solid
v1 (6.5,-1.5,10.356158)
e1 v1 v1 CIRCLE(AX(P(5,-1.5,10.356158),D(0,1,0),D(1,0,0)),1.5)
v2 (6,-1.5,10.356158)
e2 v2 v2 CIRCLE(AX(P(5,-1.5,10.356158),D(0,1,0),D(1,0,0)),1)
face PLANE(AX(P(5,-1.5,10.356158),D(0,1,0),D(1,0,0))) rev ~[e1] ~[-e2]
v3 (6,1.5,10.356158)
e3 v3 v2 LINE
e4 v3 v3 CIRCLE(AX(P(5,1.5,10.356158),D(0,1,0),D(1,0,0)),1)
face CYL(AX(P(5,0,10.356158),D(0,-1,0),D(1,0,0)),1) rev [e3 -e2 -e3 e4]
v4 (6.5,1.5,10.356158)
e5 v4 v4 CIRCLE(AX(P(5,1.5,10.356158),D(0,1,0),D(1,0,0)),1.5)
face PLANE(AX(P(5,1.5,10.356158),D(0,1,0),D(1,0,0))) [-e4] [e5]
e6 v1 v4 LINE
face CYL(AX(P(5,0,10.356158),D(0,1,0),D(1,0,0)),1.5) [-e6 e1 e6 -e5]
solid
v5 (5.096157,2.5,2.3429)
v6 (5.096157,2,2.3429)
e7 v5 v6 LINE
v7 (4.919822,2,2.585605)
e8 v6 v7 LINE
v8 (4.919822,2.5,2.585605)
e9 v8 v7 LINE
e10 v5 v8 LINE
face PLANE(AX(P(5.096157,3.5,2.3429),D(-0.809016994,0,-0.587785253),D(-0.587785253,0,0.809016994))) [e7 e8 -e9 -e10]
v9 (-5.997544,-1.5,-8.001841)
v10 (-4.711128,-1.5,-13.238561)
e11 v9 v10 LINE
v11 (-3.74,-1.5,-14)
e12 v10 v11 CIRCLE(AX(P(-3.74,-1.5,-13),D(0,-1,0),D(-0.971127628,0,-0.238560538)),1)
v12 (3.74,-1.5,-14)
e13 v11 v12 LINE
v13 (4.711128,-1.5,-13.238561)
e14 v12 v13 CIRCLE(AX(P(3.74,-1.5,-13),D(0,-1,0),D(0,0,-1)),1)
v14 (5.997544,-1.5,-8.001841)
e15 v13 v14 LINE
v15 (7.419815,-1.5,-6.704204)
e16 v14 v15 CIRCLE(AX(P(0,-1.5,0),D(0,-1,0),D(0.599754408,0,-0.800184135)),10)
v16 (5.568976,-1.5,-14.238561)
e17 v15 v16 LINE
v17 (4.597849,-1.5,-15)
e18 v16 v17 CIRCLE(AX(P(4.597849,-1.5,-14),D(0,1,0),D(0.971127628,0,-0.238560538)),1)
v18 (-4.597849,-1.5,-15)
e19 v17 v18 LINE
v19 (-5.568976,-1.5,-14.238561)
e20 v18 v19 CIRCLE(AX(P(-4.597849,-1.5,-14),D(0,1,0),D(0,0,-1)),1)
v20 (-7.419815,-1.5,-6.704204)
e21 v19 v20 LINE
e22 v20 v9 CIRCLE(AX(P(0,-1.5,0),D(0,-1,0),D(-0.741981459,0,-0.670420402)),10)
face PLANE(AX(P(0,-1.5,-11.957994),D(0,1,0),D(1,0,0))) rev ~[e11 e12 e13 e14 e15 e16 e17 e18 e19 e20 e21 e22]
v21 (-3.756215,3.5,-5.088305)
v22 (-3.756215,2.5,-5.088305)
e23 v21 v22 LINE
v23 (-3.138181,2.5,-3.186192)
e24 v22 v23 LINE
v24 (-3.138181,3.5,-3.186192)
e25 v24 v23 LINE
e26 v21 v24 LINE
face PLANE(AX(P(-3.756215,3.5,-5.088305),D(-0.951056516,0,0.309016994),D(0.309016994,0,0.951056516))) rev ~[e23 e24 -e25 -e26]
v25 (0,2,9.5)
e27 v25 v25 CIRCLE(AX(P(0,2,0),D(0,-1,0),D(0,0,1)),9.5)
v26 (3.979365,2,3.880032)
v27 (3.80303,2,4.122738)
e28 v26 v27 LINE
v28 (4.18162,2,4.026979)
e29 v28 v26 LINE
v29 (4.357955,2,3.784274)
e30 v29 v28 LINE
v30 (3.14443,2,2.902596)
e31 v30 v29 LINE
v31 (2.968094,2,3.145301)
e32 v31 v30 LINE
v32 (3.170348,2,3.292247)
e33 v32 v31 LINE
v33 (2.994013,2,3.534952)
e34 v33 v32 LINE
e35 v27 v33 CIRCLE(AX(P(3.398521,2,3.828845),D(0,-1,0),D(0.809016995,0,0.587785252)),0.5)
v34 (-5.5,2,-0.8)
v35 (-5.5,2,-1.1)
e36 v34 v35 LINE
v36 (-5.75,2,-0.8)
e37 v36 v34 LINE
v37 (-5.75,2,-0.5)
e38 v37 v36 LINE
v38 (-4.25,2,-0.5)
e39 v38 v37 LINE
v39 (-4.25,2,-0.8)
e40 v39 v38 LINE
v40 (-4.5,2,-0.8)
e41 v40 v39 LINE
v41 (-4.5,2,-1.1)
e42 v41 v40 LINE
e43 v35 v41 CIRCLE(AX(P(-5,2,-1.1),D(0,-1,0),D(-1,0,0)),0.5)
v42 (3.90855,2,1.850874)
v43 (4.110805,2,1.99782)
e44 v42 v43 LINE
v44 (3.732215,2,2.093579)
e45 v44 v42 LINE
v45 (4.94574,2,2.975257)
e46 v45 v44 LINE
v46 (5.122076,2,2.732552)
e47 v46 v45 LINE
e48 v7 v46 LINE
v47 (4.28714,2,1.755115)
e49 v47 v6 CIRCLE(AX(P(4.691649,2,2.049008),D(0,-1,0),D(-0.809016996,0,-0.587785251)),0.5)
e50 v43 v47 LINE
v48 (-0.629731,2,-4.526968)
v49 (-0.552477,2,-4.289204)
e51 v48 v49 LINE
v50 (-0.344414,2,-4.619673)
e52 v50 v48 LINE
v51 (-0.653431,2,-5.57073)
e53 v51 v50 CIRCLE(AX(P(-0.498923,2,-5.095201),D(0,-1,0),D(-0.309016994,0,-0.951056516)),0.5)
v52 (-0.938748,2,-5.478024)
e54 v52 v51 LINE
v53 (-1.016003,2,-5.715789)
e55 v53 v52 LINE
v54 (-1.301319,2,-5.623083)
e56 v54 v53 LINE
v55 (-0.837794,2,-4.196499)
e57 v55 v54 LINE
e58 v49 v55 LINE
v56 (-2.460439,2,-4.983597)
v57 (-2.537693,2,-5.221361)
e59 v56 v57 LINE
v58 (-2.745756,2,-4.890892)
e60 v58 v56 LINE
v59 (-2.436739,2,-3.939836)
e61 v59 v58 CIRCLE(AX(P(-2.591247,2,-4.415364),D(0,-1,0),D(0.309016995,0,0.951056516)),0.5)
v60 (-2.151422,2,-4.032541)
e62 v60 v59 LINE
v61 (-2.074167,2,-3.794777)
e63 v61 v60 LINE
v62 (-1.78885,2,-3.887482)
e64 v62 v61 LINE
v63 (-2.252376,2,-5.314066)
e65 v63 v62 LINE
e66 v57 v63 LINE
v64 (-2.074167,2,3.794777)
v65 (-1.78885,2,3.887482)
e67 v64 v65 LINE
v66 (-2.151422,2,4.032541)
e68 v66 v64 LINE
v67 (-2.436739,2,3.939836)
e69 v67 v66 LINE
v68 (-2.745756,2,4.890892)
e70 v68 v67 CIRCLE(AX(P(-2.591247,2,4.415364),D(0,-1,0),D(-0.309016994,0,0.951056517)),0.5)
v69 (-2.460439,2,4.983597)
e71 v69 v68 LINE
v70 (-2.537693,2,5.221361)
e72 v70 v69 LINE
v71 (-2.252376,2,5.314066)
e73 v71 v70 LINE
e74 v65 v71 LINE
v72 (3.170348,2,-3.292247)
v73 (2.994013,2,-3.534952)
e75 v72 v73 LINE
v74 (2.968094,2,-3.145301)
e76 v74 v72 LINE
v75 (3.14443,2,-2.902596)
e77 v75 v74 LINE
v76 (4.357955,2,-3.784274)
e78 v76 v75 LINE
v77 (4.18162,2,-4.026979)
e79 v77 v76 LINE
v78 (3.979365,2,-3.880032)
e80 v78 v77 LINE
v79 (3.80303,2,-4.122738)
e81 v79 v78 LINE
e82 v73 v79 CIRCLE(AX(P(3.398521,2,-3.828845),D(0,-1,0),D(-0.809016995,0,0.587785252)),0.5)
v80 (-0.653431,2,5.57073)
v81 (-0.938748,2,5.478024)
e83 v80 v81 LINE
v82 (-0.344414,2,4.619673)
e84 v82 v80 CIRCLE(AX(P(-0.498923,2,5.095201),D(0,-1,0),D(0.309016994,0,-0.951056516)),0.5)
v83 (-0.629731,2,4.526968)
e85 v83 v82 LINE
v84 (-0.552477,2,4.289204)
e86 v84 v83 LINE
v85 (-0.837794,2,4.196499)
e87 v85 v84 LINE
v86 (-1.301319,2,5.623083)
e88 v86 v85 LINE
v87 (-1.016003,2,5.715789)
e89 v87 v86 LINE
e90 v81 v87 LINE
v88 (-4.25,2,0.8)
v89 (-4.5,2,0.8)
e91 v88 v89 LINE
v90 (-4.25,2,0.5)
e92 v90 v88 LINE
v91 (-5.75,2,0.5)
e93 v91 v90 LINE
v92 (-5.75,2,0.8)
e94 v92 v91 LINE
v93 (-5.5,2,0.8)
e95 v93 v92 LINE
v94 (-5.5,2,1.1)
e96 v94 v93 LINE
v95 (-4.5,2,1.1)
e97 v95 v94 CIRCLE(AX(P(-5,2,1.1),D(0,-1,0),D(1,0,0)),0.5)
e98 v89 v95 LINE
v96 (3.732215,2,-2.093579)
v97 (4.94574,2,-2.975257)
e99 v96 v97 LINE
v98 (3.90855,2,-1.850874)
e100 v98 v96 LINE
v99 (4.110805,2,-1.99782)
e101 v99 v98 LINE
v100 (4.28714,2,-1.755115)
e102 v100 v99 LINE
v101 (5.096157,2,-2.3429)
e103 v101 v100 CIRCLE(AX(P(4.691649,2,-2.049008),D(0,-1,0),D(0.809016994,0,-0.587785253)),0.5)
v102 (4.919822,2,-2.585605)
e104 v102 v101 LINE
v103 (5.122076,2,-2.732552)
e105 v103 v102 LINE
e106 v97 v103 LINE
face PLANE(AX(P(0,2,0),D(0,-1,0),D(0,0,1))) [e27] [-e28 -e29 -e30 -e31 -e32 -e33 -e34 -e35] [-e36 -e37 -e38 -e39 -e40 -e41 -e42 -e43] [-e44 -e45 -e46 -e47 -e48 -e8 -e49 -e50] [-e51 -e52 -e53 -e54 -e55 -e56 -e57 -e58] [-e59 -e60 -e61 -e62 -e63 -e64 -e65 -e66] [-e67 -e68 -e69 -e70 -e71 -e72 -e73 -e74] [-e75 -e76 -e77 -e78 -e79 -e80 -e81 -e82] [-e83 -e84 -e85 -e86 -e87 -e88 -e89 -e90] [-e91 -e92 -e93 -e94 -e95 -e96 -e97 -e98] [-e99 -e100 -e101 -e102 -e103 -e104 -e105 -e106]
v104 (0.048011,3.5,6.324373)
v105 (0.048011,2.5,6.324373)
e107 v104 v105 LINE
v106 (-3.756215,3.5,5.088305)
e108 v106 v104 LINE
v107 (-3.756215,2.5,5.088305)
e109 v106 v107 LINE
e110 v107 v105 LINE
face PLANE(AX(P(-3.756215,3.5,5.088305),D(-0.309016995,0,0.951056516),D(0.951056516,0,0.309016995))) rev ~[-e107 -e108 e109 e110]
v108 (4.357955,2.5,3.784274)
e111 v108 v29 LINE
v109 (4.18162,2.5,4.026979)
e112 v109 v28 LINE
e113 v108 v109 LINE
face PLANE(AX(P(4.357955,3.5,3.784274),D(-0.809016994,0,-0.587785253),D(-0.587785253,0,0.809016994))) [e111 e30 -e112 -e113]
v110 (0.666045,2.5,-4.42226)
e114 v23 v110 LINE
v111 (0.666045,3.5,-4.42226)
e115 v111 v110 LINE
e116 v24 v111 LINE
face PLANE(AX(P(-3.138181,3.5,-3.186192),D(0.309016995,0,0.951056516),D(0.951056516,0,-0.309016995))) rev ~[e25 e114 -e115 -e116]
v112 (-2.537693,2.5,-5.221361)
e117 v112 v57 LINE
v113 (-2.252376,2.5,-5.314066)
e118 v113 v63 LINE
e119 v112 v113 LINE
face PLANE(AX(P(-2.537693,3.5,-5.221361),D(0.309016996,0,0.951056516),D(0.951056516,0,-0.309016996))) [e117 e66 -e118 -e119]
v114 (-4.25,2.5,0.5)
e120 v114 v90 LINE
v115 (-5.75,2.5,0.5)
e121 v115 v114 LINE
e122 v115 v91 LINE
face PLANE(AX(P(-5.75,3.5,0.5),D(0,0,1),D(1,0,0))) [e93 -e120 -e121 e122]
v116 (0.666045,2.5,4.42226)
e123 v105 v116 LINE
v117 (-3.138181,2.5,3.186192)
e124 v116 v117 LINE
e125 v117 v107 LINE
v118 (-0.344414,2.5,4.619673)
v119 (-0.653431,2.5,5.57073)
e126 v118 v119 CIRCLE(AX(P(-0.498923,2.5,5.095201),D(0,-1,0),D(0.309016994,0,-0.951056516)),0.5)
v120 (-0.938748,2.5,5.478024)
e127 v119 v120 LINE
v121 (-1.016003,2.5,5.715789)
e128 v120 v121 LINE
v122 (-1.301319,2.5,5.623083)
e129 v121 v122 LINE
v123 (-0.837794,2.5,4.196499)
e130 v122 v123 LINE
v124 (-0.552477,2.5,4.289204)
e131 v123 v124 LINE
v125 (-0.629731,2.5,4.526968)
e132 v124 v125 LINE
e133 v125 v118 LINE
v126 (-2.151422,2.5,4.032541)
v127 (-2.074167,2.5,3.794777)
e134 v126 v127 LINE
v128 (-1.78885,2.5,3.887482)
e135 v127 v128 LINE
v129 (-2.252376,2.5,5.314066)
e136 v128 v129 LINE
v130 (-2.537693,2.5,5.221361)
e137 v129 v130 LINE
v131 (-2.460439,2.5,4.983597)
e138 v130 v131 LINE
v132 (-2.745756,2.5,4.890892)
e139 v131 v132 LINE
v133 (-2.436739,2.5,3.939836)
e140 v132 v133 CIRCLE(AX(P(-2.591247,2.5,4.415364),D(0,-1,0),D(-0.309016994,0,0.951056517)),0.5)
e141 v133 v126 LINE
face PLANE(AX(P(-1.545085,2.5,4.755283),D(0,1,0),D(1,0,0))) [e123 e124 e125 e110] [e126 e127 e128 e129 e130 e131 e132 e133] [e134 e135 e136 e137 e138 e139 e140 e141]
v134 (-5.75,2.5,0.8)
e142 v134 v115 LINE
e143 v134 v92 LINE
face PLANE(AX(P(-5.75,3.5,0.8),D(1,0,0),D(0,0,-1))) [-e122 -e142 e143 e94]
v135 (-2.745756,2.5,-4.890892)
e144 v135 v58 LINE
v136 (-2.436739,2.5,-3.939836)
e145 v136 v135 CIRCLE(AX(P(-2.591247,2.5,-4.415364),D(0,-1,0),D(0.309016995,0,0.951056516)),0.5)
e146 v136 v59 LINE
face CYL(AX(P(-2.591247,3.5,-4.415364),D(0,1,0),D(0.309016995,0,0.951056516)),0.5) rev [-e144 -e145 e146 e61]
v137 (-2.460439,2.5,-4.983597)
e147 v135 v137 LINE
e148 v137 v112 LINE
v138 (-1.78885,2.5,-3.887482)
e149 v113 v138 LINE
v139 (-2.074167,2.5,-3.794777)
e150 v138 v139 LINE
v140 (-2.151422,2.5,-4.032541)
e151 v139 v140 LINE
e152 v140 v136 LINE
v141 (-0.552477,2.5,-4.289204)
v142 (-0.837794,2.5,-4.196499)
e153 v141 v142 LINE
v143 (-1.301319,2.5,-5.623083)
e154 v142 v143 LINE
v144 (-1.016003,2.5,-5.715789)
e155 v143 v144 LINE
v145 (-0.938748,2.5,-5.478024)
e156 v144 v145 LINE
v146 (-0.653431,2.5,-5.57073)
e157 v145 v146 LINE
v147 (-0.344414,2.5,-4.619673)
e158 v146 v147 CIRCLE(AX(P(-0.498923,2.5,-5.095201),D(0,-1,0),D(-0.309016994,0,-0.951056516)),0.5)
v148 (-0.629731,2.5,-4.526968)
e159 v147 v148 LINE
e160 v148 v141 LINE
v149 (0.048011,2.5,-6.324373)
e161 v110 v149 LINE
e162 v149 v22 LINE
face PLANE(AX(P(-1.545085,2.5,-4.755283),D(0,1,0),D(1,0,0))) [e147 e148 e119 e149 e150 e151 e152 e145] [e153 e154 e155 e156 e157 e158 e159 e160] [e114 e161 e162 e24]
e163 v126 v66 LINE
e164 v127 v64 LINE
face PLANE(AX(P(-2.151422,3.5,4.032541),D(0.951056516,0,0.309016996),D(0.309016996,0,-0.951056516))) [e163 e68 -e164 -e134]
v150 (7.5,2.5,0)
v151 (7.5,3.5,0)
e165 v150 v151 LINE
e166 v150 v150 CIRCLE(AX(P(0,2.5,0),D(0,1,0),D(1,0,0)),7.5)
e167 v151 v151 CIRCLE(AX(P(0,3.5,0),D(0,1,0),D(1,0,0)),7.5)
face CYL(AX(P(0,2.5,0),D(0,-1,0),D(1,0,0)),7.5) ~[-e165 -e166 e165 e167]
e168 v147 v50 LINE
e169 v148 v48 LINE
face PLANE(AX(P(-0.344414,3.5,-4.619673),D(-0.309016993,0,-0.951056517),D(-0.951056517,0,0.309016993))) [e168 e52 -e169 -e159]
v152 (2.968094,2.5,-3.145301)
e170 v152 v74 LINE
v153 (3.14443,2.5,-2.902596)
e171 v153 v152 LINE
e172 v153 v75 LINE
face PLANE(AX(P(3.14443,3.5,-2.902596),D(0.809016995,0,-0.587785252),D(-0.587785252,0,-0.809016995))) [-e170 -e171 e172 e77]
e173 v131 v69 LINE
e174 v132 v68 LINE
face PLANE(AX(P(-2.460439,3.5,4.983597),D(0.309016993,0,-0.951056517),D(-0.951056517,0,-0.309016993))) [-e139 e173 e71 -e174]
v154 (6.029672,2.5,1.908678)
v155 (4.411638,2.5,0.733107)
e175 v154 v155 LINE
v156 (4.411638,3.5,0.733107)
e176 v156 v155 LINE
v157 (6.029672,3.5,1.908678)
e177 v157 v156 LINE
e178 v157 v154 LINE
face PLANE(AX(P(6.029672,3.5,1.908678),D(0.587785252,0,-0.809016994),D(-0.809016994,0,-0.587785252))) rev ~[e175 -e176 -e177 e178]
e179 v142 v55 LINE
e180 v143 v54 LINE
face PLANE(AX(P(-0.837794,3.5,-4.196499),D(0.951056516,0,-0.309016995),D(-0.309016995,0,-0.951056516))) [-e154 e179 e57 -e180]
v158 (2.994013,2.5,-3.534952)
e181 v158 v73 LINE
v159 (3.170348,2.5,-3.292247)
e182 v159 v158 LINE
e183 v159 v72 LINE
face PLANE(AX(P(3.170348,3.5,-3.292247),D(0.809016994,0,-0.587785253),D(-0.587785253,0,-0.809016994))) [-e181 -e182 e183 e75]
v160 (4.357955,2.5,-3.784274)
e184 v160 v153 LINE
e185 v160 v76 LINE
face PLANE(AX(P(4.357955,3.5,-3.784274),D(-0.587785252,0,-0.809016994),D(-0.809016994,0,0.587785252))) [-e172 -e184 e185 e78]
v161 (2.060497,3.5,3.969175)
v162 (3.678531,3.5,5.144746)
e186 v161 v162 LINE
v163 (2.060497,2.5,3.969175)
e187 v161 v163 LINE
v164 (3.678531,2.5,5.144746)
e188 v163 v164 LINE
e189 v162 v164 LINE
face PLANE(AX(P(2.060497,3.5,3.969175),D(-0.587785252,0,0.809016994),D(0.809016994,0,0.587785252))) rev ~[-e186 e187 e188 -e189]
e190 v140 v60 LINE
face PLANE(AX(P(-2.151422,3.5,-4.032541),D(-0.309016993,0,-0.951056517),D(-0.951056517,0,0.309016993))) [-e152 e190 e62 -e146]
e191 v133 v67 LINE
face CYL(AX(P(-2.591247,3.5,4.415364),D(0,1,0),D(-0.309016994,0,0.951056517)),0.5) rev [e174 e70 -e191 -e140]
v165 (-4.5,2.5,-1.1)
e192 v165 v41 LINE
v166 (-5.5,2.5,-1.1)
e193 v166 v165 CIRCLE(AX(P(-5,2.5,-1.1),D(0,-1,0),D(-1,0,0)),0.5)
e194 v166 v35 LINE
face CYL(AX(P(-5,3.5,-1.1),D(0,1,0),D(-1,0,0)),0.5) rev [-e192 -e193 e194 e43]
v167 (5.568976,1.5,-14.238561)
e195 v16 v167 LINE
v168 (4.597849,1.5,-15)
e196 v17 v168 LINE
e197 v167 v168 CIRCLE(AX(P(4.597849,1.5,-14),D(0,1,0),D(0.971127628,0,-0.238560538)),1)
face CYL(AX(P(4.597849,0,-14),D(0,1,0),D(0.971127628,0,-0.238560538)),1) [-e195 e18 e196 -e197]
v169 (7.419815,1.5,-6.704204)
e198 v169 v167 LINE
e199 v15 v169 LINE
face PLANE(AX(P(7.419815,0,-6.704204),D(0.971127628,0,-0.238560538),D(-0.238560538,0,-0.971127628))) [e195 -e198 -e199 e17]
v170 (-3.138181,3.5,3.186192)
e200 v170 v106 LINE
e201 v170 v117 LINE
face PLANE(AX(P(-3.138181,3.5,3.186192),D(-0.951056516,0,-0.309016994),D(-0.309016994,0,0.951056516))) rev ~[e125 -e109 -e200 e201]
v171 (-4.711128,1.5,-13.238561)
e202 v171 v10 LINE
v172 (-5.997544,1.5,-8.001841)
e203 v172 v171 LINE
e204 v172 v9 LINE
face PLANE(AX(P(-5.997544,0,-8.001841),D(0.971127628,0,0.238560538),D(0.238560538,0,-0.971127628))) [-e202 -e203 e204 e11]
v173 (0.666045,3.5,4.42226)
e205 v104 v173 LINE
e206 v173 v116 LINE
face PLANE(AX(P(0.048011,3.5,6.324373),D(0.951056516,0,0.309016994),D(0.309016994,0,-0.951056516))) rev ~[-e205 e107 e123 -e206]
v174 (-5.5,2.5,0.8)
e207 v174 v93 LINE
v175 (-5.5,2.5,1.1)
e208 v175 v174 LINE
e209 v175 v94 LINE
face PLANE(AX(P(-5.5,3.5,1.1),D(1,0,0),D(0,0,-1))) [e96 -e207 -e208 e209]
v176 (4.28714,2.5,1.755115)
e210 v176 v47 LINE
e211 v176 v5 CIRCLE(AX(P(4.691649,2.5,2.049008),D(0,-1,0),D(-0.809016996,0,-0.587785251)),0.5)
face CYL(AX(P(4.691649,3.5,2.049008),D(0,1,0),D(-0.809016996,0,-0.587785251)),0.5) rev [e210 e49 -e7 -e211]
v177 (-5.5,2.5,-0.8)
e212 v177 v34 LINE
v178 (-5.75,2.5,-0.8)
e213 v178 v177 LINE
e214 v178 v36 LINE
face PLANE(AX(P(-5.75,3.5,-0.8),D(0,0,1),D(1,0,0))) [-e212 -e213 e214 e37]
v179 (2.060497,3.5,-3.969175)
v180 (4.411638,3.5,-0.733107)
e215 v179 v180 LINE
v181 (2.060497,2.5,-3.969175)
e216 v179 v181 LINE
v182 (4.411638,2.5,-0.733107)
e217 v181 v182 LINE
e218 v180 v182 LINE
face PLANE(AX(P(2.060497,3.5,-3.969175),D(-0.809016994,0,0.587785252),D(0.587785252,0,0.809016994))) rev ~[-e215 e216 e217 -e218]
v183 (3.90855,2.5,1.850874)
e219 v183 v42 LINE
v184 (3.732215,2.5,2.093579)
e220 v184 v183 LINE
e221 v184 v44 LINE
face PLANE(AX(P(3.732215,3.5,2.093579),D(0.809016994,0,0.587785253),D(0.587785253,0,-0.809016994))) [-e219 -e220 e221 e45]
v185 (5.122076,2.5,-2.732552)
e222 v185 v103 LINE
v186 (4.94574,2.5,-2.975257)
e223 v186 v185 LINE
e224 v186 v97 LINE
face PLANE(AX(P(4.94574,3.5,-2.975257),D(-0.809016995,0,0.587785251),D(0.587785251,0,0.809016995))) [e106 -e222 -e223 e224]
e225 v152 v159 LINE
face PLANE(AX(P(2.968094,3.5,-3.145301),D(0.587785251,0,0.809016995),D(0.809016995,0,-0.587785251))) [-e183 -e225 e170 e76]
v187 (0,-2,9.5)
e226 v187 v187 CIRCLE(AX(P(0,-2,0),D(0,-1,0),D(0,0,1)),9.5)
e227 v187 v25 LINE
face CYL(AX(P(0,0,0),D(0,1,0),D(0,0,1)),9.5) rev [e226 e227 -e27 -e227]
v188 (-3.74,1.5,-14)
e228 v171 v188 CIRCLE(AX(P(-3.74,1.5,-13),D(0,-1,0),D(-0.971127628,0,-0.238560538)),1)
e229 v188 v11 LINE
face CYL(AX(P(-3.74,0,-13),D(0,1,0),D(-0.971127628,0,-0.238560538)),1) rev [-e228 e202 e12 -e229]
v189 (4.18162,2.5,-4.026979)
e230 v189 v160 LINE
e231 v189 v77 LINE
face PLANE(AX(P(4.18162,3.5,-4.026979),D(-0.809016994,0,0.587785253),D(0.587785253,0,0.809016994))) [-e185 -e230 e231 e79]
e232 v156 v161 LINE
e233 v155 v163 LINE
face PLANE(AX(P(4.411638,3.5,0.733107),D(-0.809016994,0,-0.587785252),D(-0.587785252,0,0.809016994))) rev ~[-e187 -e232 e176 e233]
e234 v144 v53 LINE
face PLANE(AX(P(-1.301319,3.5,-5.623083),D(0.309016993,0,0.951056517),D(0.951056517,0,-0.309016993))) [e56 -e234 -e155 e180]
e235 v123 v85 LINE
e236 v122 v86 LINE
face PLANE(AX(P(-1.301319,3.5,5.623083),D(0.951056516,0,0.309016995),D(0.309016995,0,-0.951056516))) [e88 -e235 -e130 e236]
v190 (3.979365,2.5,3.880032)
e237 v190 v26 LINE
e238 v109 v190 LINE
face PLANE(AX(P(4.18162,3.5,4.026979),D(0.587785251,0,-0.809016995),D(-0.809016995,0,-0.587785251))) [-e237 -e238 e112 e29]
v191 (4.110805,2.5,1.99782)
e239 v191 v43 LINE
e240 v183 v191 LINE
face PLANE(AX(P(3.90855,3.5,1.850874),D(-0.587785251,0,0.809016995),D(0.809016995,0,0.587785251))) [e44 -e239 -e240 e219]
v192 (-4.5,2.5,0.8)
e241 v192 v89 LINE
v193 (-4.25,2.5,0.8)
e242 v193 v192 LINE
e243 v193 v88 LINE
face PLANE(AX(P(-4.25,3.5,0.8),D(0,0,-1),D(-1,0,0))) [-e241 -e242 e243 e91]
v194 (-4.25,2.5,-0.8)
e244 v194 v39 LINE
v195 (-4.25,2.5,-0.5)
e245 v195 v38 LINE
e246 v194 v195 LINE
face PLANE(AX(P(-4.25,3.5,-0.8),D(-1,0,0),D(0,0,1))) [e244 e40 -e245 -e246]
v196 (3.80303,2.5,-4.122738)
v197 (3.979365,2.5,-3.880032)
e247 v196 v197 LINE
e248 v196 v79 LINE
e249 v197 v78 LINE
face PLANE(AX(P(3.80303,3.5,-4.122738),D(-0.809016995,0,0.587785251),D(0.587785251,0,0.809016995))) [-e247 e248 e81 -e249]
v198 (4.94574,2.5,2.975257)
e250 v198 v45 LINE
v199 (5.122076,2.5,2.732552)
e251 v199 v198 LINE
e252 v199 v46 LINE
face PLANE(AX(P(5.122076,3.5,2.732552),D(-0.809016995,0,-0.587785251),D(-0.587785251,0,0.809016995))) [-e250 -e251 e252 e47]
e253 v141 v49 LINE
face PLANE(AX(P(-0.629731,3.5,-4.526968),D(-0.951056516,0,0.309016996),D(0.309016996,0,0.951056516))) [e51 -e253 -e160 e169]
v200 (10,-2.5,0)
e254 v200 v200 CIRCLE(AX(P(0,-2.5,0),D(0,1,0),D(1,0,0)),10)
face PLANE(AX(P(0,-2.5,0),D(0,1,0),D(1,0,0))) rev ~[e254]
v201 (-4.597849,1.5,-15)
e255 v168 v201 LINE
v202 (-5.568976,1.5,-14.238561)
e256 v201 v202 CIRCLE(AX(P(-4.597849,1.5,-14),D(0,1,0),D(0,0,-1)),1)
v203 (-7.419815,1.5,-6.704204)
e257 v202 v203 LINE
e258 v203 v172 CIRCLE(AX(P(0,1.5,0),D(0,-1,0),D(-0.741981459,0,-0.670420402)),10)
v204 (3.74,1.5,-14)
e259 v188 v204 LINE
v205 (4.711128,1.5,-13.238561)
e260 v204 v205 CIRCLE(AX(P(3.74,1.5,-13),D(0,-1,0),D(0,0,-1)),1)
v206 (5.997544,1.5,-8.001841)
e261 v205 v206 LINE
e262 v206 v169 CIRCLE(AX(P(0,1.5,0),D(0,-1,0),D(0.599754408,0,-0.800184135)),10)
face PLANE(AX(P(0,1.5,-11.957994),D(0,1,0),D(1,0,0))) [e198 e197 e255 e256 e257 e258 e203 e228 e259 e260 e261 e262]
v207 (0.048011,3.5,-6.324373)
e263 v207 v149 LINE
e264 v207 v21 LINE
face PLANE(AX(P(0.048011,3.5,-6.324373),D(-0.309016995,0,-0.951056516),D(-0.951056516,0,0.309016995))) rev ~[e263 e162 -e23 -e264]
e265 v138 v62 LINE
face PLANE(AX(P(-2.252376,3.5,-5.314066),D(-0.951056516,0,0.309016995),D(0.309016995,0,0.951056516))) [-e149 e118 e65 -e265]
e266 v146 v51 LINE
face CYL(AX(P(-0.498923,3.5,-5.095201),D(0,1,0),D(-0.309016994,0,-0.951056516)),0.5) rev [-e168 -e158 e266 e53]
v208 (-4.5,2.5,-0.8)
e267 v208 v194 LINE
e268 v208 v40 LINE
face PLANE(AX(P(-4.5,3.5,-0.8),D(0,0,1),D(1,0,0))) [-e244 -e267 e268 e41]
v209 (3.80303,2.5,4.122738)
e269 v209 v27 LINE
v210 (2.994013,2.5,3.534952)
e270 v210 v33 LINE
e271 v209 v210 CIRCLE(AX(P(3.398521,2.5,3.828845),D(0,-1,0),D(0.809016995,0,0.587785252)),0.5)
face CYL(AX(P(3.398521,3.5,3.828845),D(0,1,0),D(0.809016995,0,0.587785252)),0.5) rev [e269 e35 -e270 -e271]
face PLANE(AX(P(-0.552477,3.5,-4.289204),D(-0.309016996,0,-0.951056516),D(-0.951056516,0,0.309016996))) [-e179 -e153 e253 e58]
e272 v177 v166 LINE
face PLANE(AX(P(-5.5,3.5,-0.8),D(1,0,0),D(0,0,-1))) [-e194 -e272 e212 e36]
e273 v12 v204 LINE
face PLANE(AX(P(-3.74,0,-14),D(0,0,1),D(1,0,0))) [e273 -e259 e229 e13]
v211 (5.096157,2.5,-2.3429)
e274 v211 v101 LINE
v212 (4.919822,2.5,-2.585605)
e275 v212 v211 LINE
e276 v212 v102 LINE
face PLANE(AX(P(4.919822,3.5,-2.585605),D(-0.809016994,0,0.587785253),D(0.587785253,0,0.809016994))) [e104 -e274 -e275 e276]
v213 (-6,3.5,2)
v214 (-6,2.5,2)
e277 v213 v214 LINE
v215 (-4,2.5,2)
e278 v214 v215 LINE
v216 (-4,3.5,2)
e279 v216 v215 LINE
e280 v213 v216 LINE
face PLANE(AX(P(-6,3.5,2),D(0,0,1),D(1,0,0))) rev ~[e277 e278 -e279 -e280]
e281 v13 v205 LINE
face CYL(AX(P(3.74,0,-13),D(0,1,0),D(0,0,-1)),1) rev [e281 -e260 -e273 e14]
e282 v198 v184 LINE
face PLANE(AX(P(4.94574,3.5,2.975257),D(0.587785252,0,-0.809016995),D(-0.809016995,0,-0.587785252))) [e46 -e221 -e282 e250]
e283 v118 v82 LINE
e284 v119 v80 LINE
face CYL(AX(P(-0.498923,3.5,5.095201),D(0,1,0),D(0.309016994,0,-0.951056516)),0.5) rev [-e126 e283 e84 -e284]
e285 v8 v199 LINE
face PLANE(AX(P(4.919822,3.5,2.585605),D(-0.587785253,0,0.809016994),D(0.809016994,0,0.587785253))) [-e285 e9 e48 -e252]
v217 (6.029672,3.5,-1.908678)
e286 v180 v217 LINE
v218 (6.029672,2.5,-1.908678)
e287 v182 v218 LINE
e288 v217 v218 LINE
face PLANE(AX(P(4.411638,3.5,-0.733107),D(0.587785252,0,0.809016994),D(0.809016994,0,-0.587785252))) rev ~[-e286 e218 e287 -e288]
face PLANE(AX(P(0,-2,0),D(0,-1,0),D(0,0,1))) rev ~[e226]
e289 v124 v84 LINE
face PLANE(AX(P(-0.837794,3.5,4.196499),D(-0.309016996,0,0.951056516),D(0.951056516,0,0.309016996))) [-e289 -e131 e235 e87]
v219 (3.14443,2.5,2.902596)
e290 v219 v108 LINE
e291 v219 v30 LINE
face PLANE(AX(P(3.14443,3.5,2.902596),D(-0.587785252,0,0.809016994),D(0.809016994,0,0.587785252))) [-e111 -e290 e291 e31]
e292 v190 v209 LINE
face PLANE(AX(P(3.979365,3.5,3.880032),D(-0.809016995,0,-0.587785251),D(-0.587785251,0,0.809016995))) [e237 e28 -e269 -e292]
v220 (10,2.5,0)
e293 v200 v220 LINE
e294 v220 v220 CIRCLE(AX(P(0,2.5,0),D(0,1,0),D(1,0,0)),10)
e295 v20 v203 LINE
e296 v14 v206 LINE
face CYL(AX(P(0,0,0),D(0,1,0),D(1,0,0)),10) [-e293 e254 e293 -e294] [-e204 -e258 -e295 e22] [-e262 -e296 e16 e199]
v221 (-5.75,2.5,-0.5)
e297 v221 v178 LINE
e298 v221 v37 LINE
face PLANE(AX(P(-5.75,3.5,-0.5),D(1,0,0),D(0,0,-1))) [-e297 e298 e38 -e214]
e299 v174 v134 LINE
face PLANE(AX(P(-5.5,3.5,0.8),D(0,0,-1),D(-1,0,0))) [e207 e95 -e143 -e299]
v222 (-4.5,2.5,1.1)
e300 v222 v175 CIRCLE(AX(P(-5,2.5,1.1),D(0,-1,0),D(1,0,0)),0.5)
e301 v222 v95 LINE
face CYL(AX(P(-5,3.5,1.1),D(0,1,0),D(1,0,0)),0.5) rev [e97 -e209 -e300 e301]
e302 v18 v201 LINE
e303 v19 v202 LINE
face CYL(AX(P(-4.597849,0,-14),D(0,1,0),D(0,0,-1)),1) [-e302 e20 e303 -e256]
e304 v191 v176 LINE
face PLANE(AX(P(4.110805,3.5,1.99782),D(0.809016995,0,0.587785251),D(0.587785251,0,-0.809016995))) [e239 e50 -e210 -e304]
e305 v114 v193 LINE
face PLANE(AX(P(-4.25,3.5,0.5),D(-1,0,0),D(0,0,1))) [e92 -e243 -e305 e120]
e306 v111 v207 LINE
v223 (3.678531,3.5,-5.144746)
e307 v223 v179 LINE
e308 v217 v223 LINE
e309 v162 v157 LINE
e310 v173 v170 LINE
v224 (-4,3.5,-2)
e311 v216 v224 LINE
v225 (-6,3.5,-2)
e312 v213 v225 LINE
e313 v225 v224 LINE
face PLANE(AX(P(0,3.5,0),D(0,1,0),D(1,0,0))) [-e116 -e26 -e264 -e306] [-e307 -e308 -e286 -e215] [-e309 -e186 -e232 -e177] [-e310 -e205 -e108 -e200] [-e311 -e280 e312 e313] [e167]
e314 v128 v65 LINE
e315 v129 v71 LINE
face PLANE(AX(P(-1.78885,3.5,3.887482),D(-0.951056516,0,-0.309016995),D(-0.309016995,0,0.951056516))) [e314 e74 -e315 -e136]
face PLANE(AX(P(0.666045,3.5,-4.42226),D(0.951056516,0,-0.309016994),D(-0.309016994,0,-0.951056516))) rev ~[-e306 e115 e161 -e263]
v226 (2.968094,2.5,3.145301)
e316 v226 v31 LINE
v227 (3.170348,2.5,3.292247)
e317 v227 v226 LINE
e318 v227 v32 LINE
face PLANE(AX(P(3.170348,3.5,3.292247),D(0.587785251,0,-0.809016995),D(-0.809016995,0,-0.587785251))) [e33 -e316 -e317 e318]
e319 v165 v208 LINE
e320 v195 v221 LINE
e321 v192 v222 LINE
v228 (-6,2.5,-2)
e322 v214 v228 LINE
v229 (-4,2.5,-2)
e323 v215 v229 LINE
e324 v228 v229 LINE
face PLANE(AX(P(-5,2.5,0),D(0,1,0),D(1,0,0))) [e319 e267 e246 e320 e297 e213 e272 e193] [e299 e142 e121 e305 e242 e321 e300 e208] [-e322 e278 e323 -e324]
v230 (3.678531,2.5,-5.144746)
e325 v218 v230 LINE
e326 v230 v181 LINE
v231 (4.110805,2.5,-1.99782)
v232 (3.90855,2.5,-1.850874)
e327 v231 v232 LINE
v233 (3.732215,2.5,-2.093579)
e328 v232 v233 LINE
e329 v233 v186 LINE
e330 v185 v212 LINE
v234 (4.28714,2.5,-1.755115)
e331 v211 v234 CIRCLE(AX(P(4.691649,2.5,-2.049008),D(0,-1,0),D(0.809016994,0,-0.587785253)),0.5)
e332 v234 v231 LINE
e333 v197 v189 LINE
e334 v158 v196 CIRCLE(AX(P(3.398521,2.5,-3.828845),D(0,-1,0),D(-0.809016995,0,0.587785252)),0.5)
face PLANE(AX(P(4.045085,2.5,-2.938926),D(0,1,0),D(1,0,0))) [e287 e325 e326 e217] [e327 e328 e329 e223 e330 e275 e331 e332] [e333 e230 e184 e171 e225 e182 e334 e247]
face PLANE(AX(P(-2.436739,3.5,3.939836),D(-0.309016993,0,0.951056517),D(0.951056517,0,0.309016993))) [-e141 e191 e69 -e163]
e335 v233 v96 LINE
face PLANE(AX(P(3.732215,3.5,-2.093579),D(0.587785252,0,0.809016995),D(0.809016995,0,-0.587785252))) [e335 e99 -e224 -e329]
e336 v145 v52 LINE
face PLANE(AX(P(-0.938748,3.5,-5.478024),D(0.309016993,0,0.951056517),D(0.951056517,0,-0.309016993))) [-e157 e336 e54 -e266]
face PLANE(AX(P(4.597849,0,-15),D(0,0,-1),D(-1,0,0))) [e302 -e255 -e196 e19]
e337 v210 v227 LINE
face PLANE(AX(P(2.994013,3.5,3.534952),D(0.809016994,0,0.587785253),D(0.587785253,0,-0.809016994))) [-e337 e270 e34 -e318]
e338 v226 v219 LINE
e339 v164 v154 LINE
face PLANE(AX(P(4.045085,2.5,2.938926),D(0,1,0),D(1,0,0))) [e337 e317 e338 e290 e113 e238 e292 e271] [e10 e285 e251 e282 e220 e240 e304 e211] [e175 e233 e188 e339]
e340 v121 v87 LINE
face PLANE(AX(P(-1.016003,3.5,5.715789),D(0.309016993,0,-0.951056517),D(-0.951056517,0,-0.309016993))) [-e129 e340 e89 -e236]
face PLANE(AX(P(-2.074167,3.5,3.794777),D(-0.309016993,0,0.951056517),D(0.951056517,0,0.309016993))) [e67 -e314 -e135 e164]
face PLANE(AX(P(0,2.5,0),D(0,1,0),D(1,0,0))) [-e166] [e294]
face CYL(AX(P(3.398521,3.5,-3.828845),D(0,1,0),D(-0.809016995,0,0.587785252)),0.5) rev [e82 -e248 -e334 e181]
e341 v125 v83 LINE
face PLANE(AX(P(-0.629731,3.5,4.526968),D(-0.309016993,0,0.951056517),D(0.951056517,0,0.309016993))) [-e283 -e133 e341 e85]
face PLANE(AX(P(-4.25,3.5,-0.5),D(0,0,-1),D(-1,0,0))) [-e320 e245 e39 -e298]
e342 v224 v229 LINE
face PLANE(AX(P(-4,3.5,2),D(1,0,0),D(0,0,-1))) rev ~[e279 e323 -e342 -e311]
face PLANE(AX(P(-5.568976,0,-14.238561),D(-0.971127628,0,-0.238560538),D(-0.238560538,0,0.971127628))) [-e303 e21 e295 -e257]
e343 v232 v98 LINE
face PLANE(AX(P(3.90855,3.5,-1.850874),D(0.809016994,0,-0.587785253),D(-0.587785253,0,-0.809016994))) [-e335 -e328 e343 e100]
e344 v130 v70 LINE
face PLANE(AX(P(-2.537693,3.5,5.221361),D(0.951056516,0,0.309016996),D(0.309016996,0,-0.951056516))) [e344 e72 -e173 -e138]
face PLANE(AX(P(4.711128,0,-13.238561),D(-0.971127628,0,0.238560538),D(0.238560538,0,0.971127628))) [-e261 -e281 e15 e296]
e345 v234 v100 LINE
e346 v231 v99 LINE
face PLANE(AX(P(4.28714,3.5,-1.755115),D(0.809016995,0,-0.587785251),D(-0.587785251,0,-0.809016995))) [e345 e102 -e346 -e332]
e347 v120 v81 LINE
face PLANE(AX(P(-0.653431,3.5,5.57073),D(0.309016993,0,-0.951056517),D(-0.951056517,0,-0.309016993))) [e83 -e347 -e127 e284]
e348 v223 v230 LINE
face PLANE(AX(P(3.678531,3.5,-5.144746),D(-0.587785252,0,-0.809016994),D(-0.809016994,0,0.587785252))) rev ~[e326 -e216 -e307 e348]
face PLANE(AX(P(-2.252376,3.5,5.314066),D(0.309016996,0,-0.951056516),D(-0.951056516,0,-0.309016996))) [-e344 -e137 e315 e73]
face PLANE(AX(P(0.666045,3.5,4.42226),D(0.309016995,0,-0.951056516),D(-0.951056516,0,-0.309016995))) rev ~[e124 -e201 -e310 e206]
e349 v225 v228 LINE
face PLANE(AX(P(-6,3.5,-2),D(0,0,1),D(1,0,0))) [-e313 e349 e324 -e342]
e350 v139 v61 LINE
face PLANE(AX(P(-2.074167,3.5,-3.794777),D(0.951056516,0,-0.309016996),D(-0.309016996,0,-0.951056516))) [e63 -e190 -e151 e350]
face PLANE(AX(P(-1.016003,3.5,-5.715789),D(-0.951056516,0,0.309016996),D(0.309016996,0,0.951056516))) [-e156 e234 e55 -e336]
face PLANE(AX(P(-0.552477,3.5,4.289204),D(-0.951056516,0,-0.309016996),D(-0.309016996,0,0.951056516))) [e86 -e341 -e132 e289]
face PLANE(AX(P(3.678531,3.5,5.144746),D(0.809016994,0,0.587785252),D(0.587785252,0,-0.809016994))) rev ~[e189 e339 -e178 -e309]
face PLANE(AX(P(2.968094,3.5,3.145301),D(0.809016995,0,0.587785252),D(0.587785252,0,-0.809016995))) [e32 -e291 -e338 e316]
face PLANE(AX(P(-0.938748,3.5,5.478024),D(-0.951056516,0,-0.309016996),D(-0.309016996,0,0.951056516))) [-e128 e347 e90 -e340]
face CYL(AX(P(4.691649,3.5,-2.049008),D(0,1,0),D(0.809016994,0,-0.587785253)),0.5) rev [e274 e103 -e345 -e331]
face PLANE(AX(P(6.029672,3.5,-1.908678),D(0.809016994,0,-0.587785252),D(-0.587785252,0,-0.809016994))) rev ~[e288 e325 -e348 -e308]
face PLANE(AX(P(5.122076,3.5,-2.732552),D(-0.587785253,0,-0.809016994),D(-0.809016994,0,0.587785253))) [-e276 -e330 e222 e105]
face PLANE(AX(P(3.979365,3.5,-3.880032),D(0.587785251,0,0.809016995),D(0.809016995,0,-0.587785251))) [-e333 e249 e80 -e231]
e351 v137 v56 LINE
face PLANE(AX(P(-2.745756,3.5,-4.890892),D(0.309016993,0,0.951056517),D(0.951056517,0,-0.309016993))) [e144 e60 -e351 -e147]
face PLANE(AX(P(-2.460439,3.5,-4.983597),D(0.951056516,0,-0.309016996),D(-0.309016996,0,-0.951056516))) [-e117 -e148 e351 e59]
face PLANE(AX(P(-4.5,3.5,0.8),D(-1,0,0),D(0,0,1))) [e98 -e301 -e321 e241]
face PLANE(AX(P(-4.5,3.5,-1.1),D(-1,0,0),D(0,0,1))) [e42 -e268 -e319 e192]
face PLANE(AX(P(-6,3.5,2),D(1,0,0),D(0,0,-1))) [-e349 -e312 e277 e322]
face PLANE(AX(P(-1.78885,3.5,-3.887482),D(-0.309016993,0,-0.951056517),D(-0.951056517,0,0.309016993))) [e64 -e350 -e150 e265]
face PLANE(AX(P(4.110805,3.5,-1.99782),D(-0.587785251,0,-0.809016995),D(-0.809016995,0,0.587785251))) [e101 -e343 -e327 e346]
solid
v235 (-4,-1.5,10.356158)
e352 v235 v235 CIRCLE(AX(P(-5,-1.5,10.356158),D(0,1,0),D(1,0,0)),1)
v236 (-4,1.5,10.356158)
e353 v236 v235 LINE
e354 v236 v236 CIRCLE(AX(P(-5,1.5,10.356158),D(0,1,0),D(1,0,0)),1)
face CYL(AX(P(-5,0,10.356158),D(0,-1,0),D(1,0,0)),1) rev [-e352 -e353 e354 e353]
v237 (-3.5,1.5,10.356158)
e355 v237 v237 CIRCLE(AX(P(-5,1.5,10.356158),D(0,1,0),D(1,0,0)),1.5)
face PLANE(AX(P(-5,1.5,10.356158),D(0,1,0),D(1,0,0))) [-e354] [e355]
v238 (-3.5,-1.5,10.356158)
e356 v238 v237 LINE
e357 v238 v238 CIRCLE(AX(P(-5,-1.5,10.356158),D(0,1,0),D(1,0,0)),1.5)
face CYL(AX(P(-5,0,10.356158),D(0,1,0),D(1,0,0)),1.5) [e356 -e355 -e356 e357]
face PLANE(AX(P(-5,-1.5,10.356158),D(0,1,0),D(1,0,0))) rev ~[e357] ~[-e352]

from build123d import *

# Parameters (mm, degrees)
SKETCH1_R             = 10
BOSS_EXTRUDE1_DEPTH   = 2.5
SKETCH1_3_R           = 1.5
SKETCH1_3_R_2         = 1
BOSS_EXTRUDE2_DEPTH   = 1.5
BOSS_EXTRUDE2_2_DEPTH = 1.5
BOSS_EXTRUDE4_DEPTH   = 1.5
SKETCH2_R             = 7.5
BOSS_EXTRUDE5_DEPTH   = 1
SKETCH4_W             = 9.5
SKETCH4_H             = 4
SKETCH3_W             = 2
SKETCH3_H             = 4
CUT_EXTRUDE5_DEPTH    = 1
CUT_EXTRUDE6_DEPTH    = 1.5


with BuildPart() as part:
    # Sketch1 → Boss-Extrude1 (new body, symmetric)
    with BuildSketch(Plane(origin=(0, 0, 0), x_dir=(1, 0, 0), z_dir=(0, 1, 0))):
        Circle(SKETCH1_R)
    extrude(amount=BOSS_EXTRUDE1_DEPTH, both=True)

    # Sketch1_7 → Boss-Extrude4 (add, symmetric)
    with BuildSketch(Plane(origin=(0, 0, 0), x_dir=(1, 0, 0), z_dir=(0, 1, 0))):
        with BuildLine():
            Line((-3.74, 14), (3.74, 14))
            ThreePointArc((3.74, 14), (4.357024903, 13.786943625), (4.711127628, 13.238560538))
            Line((4.711127628, 13.238560538), (5.997544065, 8.001841363))
            ThreePointArc((5.997544065, 8.001841363), (6.739981012, 7.387330773), (7.419814598, 6.704204005))
            Line((7.419814598, 6.704204005), (5.568976361, 14.238560538))
            ThreePointArc((5.568976361, 14.238560538), (5.214873636, 14.786943625), (4.597848733, 15))
            Line((4.597848733, 15), (-4.597848733, 15))
            ThreePointArc((-4.597848733, 15), (-5.214873636, 14.786943625), (-5.568976361, 14.238560538))
            Line((-5.568976361, 14.238560538), (-7.419814598, 6.704204005))
            ThreePointArc((-7.419814598, 6.704204005), (-6.739981012, 7.387330773), (-5.997544065, 8.001841363))
            Line((-5.997544065, 8.001841363), (-4.711127628, 13.238560538))
            ThreePointArc((-4.711127628, 13.238560538), (-4.357024903, 13.786943625), (-3.74, 14))
        make_face()
    extrude(amount=BOSS_EXTRUDE4_DEPTH, both=True)

    # Sketch2 → Boss-Extrude5 (add)
    with BuildSketch(Plane(origin=(0, 2.5, 0), x_dir=(1, 0, 0), z_dir=(0, 1, 0))):
        Circle(SKETCH2_R)
    extrude(amount=BOSS_EXTRUDE5_DEPTH)

    # Sketch4 → Cut-Revolve1 (revolve, cut)
    with BuildSketch(Plane(origin=(0, 0, 0), x_dir=(0, 0, -1), z_dir=(1, 0, 0))):
        with Locations((-4.75, 0)):
            Rectangle(SKETCH4_W, SKETCH4_H)
    revolve(axis=Axis((0, 2, 0), (0, -1, 0)), mode=Mode.SUBTRACT)

    # Sketch3 → Cut-Extrude5 (cut)
    with BuildSketch(Plane(origin=(0, 3.5, 0), x_dir=(1, 0, 0), z_dir=(0, 1, 0))):
        with Locations((-5, 0)):
            Rectangle(SKETCH3_W, SKETCH3_H)
        with BuildLine():
            ThreePointArc((-5.5, 1.1), (-5, 1.6), (-4.5, 1.1))
            Line((-4.5, 1.1), (-4.5, 0.8))
            Line((-4.5, 0.8), (-4.25, 0.8))
            Line((-4.25, 0.8), (-4.25, 0.5))
            Line((-4.25, 0.5), (-5.75, 0.5))
            Line((-5.75, 0.5), (-5.75, 0.8))
            Line((-5.75, 0.8), (-5.5, 0.8))
            Line((-5.5, 0.8), (-5.5, 1.1))
        make_face(mode=Mode.SUBTRACT)
        with BuildLine():
            Line((-5.75, -0.5), (-4.25, -0.5))
            Line((-4.25, -0.5), (-4.25, -0.8))
            Line((-4.25, -0.8), (-4.5, -0.8))
            Line((-4.5, -0.8), (-4.5, -1.1))
            ThreePointArc((-4.5, -1.1), (-5, -1.6), (-5.5, -1.1))
            Line((-5.5, -1.1), (-5.5, -0.8))
            Line((-5.5, -0.8), (-5.75, -0.8))
            Line((-5.75, -0.8), (-5.75, -0.5))
        make_face(mode=Mode.SUBTRACT)
        Polygon((-3.13818101, 3.186192076), (0.666045055, 4.422260054), (0.048011066, 6.324373087), (-3.756214999, 5.088305109), align=None)
        with BuildLine():
            ThreePointArc((-2.436738643, 3.93983563), (-3.066775398, 4.26085539), (-2.745755637, 4.890892146))
            Line((-2.745755637, 4.890892146), (-2.460438682, 4.983597244))
            Line((-2.460438682, 4.983597244), (-2.537692931, 5.221361373))
            Line((-2.537692931, 5.221361373), (-2.252375976, 5.314066472))
            Line((-2.252375976, 5.314066472), (-1.788850484, 3.887481697))
            Line((-1.788850484, 3.887481697), (-2.074167439, 3.794776599))
            Line((-2.074167439, 3.794776599), (-2.151421688, 4.032540728))
            Line((-2.151421688, 4.032540728), (-2.436738643, 3.93983563))
        make_face(mode=Mode.SUBTRACT)
        with BuildLine():
            Line((-0.344414307, 4.619673017), (-0.629731262, 4.526967919))
            Line((-0.629731262, 4.526967919), (-0.552477013, 4.28920379))
            Line((-0.552477013, 4.28920379), (-0.837793968, 4.196498691))
            Line((-0.837793968, 4.196498691), (-1.30131946, 5.623083466))
            Line((-1.30131946, 5.623083466), (-1.016002505, 5.715788564))
            Line((-1.016002505, 5.715788564), (-0.938748256, 5.478024435))
            Line((-0.938748256, 5.478024435), (-0.653431301, 5.570729533))
            ThreePointArc((-0.653431301, 5.570729533), (-0.023394546, 5.249709772), (-0.344414307, 4.619673017))
        make_face(mode=Mode.SUBTRACT)
        Polygon((-3.756214999, -5.088305109), (0.048011066, -6.324373087), (0.666045055, -4.422260054), (-3.13818101, -3.186192076), align=None)
        with BuildLine():
            ThreePointArc((-2.745755637, -4.890892146), (-3.066775398, -4.26085539), (-2.436738643, -3.93983563))
            Line((-2.436738643, -3.93983563), (-2.151421688, -4.032540728))
            Line((-2.151421688, -4.032540728), (-2.074167439, -3.794776599))
            Line((-2.074167439, -3.794776599), (-1.788850484, -3.887481697))
            Line((-1.788850484, -3.887481697), (-2.252375976, -5.314066472))
            Line((-2.252375976, -5.314066472), (-2.537692931, -5.221361373))
            Line((-2.537692931, -5.221361373), (-2.460438682, -4.983597244))
            Line((-2.460438682, -4.983597244), (-2.745755637, -4.890892146))
        make_face(mode=Mode.SUBTRACT)
        with BuildLine():
            Line((-0.653431301, -5.570729533), (-0.938748256, -5.478024435))
            Line((-0.938748256, -5.478024435), (-1.016002505, -5.715788564))
            Line((-1.016002505, -5.715788564), (-1.30131946, -5.623083466))
            Line((-1.30131946, -5.623083466), (-0.837793968, -4.196498691))
            Line((-0.837793968, -4.196498691), (-0.552477013, -4.28920379))
            Line((-0.552477013, -4.28920379), (-0.629731262, -4.526967919))
            Line((-0.629731262, -4.526967919), (-0.344414307, -4.619673017))
            ThreePointArc((-0.344414307, -4.619673017), (-0.023394546, -5.249709772), (-0.653431301, -5.570729533))
        make_face(mode=Mode.SUBTRACT)
        Polygon((2.060497473, 3.969174998), (4.411638482, 0.73310702), (6.029672471, 1.908677525), (3.678531462, 5.144745503), align=None)
        with BuildLine():
            ThreePointArc((2.994012697, 3.534952329), (3.104628568, 4.233353452), (3.803029692, 4.122737581))
            Line((3.803029692, 4.122737581), (3.979365267, 3.880032483))
            Line((3.979365267, 3.880032483), (4.181619516, 4.026978796))
            Line((4.181619516, 4.026978796), (4.357955092, 3.784273698))
            Line((4.357955092, 3.784273698), (3.1444296, 2.902595819))
            Line((3.1444296, 2.902595819), (2.968094024, 3.145300918))
            Line((2.968094024, 3.145300918), (3.170348273, 3.292247231))
            Line((3.170348273, 3.292247231), (2.994012697, 3.534952329))
        make_face(mode=Mode.SUBTRACT)
        with BuildLine():
            Line((4.287140252, 1.755114942), (4.110804677, 1.99782004))
            Line((4.110804677, 1.99782004), (3.908550428, 1.850873727))
            Line((3.908550428, 1.850873727), (3.732214852, 2.093578825))
            Line((3.732214852, 2.093578825), (4.945740344, 2.975256703))
            Line((4.945740344, 2.975256703), (5.122075919, 2.732551605))
            Line((5.122075919, 2.732551605), (4.919821671, 2.585605292))
            Line((4.919821671, 2.585605292), (5.096157247, 2.342900194))
            ThreePointArc((5.096157247, 2.342900194), (4.985541376, 1.64449907), (4.287140252, 1.755114942))
        make_face(mode=Mode.SUBTRACT)
        Polygon((3.678531462, -5.144745503), (6.029672471, -1.908677525), (4.411638482, -0.73310702), (2.060497473, -3.969174998), align=None)
        with BuildLine():
            ThreePointArc((3.803029692, -4.122737581), (3.104628568, -4.233353452), (2.994012697, -3.534952329))
            Line((2.994012697, -3.534952329), (3.170348273, -3.292247231))
            Line((3.170348273, -3.292247231), (2.968094024, -3.145300918))
            Line((2.968094024, -3.145300918), (3.1444296, -2.902595819))
            Line((3.1444296, -2.902595819), (4.357955092, -3.784273698))
            Line((4.357955092, -3.784273698), (4.181619516, -4.026978796))
            Line((4.181619516, -4.026978796), (3.979365267, -3.880032483))
            Line((3.979365267, -3.880032483), (3.803029692, -4.122737581))
        make_face(mode=Mode.SUBTRACT)
        with BuildLine():
            Line((5.096157247, -2.342900194), (4.919821671, -2.585605292))
            Line((4.919821671, -2.585605292), (5.122075919, -2.732551605))
            Line((5.122075919, -2.732551605), (4.945740344, -2.975256703))
            Line((4.945740344, -2.975256703), (3.732214852, -2.093578825))
            Line((3.732214852, -2.093578825), (3.908550428, -1.850873727))
            Line((3.908550428, -1.850873727), (4.110804677, -1.99782004))
            Line((4.110804677, -1.99782004), (4.287140252, -1.755114942))
            ThreePointArc((4.287140252, -1.755114942), (4.985541376, -1.64449907), (5.096157247, -2.342900194))
        make_face(mode=Mode.SUBTRACT)
    extrude(amount=-CUT_EXTRUDE5_DEPTH, mode=Mode.SUBTRACT)

    # Sketch3_7 → Cut-Extrude6 (cut)
    with BuildSketch(Plane(origin=(0, 3.5, 0), x_dir=(1, 0, 0), z_dir=(0, 1, 0))):
        with BuildLine():
            Line((-5.5, -0.8), (-5.75, -0.8))
            Line((-5.75, -0.8), (-5.75, -0.5))
            Line((-5.75, -0.5), (-4.25, -0.5))
            Line((-4.25, -0.5), (-4.25, -0.8))
            Line((-4.25, -0.8), (-4.5, -0.8))
            Line((-4.5, -0.8), (-4.5, -1.1))
            ThreePointArc((-4.5, -1.1), (-5, -1.6), (-5.5, -1.1))
            Line((-5.5, -1.1), (-5.5, -0.8))
        make_face()
        with BuildLine():
            Line((-4.25, 0.8), (-4.25, 0.5))
            Line((-4.25, 0.5), (-5.75, 0.5))
            Line((-5.75, 0.5), (-5.75, 0.8))
            Line((-5.75, 0.8), (-5.5, 0.8))
            Line((-5.5, 0.8), (-5.5, 1.1))
            ThreePointArc((-5.5, 1.1), (-5, 1.6), (-4.5, 1.1))
            Line((-4.5, 1.1), (-4.5, 0.8))
            Line((-4.5, 0.8), (-4.25, 0.8))
        make_face()
        with BuildLine():
            Line((-2.460438682, 4.983597244), (-2.537692931, 5.221361373))
            Line((-2.537692931, 5.221361373), (-2.252375976, 5.314066472))
            Line((-2.252375976, 5.314066472), (-1.788850484, 3.887481697))
            Line((-1.788850484, 3.887481697), (-2.074167439, 3.794776599))
            Line((-2.074167439, 3.794776599), (-2.151421688, 4.032540728))
            Line((-2.151421688, 4.032540728), (-2.436738643, 3.93983563))
            ThreePointArc((-2.436738643, 3.93983563), (-3.066775398, 4.26085539), (-2.745755637, 4.890892146))
            Line((-2.745755637, 4.890892146), (-2.460438682, 4.983597244))
        make_face()
        with BuildLine():
            Line((-0.552477013, 4.28920379), (-0.837793968, 4.196498691))
            Line((-0.837793968, 4.196498691), (-1.30131946, 5.623083466))
            Line((-1.30131946, 5.623083466), (-1.016002505, 5.715788564))
            Line((-1.016002505, 5.715788564), (-0.938748256, 5.478024435))
            Line((-0.938748256, 5.478024435), (-0.653431301, 5.570729533))
            ThreePointArc((-0.653431301, 5.570729533), (-0.023394546, 5.249709772), (-0.344414307, 4.619673017))
            Line((-0.344414307, 4.619673017), (-0.629731262, 4.526967919))
            Line((-0.629731262, 4.526967919), (-0.552477013, 4.28920379))
        make_face()
        with BuildLine():
            Line((3.979365267, 3.880032483), (4.181619516, 4.026978796))
            Line((4.181619516, 4.026978796), (4.357955092, 3.784273698))
            Line((4.357955092, 3.784273698), (3.1444296, 2.902595819))
            Line((3.1444296, 2.902595819), (2.968094024, 3.145300918))
            Line((2.968094024, 3.145300918), (3.170348273, 3.292247231))
            Line((3.170348273, 3.292247231), (2.994012697, 3.534952329))
            ThreePointArc((2.994012697, 3.534952329), (3.104628568, 4.233353452), (3.803029692, 4.122737581))
            Line((3.803029692, 4.122737581), (3.979365267, 3.880032483))
        make_face()
        with BuildLine():
            Line((3.908550428, 1.850873727), (3.732214852, 2.093578825))
            Line((3.732214852, 2.093578825), (4.945740344, 2.975256703))
            Line((4.945740344, 2.975256703), (5.122075919, 2.732551605))
            Line((5.122075919, 2.732551605), (4.919821671, 2.585605292))
            Line((4.919821671, 2.585605292), (5.096157247, 2.342900194))
            ThreePointArc((5.096157247, 2.342900194), (4.985541376, 1.64449907), (4.287140252, 1.755114942))
            Line((4.287140252, 1.755114942), (4.110804677, 1.99782004))
            Line((4.110804677, 1.99782004), (3.908550428, 1.850873727))
        make_face()
        with BuildLine():
            Line((4.919821671, -2.585605292), (5.122075919, -2.732551605))
            Line((5.122075919, -2.732551605), (4.945740344, -2.975256703))
            Line((4.945740344, -2.975256703), (3.732214852, -2.093578825))
            Line((3.732214852, -2.093578825), (3.908550428, -1.850873727))
            Line((3.908550428, -1.850873727), (4.110804677, -1.99782004))
            Line((4.110804677, -1.99782004), (4.287140252, -1.755114942))
            ThreePointArc((4.287140252, -1.755114942), (4.985541376, -1.64449907), (5.096157247, -2.342900194))
            Line((5.096157247, -2.342900194), (4.919821671, -2.585605292))
        make_face()
        with BuildLine():
            Line((2.968094024, -3.145300918), (3.1444296, -2.902595819))
            Line((3.1444296, -2.902595819), (4.357955092, -3.784273698))
            Line((4.357955092, -3.784273698), (4.181619516, -4.026978796))
            Line((4.181619516, -4.026978796), (3.979365267, -3.880032483))
            Line((3.979365267, -3.880032483), (3.803029692, -4.122737581))
            ThreePointArc((3.803029692, -4.122737581), (3.104628568, -4.233353452), (2.994012697, -3.534952329))
            Line((2.994012697, -3.534952329), (3.170348273, -3.292247231))
            Line((3.170348273, -3.292247231), (2.968094024, -3.145300918))
        make_face()
        with BuildLine():
            Line((-0.938748256, -5.478024435), (-1.016002505, -5.715788564))
            Line((-1.016002505, -5.715788564), (-1.30131946, -5.623083466))
            Line((-1.30131946, -5.623083466), (-0.837793968, -4.196498691))
            Line((-0.837793968, -4.196498691), (-0.552477013, -4.28920379))
            Line((-0.552477013, -4.28920379), (-0.629731262, -4.526967919))
            Line((-0.629731262, -4.526967919), (-0.344414307, -4.619673017))
            ThreePointArc((-0.344414307, -4.619673017), (-0.023394546, -5.249709772), (-0.653431301, -5.570729533))
            Line((-0.653431301, -5.570729533), (-0.938748256, -5.478024435))
        make_face()
        with BuildLine():
            Line((-2.074167439, -3.794776599), (-1.788850484, -3.887481697))
            Line((-1.788850484, -3.887481697), (-2.252375976, -5.314066472))
            Line((-2.252375976, -5.314066472), (-2.537692931, -5.221361373))
            Line((-2.537692931, -5.221361373), (-2.460438682, -4.983597244))
            Line((-2.460438682, -4.983597244), (-2.745755637, -4.890892146))
            ThreePointArc((-2.745755637, -4.890892146), (-3.066775398, -4.26085539), (-2.436738643, -3.93983563))
            Line((-2.436738643, -3.93983563), (-2.151421688, -4.032540728))
            Line((-2.151421688, -4.032540728), (-2.074167439, -3.794776599))
        make_face()
    extrude(amount=-CUT_EXTRUDE6_DEPTH, mode=Mode.SUBTRACT)


with BuildPart() as body_2:
    # Sketch1_3 → Boss-Extrude2 (new body, symmetric)
    with BuildSketch(Plane(origin=(0, 0, 0), x_dir=(1, 0, 0), z_dir=(0, 1, 0))):
        with Locations((-5, -10.356157589)):
            Circle(SKETCH1_3_R)
        with Locations((-5, -10.356157589)):
            Circle(SKETCH1_3_R_2, mode=Mode.SUBTRACT)
    extrude(amount=BOSS_EXTRUDE2_DEPTH, both=True)


with BuildPart() as body_3:
    # Sketch1_3 → Boss-Extrude2 2 (new body, symmetric)
    with BuildSketch(Plane(origin=(0, 0, 0), x_dir=(1, 0, 0), z_dir=(0, 1, 0))):
        with Locations((5, -10.356157589)):
            Circle(SKETCH1_3_R)
        with Locations((5, -10.356157589)):
            Circle(SKETCH1_3_R_2, mode=Mode.SUBTRACT)
    extrude(amount=BOSS_EXTRUDE2_2_DEPTH, both=True)


solid = Compound([part.part, body_2.part, body_3.part])
